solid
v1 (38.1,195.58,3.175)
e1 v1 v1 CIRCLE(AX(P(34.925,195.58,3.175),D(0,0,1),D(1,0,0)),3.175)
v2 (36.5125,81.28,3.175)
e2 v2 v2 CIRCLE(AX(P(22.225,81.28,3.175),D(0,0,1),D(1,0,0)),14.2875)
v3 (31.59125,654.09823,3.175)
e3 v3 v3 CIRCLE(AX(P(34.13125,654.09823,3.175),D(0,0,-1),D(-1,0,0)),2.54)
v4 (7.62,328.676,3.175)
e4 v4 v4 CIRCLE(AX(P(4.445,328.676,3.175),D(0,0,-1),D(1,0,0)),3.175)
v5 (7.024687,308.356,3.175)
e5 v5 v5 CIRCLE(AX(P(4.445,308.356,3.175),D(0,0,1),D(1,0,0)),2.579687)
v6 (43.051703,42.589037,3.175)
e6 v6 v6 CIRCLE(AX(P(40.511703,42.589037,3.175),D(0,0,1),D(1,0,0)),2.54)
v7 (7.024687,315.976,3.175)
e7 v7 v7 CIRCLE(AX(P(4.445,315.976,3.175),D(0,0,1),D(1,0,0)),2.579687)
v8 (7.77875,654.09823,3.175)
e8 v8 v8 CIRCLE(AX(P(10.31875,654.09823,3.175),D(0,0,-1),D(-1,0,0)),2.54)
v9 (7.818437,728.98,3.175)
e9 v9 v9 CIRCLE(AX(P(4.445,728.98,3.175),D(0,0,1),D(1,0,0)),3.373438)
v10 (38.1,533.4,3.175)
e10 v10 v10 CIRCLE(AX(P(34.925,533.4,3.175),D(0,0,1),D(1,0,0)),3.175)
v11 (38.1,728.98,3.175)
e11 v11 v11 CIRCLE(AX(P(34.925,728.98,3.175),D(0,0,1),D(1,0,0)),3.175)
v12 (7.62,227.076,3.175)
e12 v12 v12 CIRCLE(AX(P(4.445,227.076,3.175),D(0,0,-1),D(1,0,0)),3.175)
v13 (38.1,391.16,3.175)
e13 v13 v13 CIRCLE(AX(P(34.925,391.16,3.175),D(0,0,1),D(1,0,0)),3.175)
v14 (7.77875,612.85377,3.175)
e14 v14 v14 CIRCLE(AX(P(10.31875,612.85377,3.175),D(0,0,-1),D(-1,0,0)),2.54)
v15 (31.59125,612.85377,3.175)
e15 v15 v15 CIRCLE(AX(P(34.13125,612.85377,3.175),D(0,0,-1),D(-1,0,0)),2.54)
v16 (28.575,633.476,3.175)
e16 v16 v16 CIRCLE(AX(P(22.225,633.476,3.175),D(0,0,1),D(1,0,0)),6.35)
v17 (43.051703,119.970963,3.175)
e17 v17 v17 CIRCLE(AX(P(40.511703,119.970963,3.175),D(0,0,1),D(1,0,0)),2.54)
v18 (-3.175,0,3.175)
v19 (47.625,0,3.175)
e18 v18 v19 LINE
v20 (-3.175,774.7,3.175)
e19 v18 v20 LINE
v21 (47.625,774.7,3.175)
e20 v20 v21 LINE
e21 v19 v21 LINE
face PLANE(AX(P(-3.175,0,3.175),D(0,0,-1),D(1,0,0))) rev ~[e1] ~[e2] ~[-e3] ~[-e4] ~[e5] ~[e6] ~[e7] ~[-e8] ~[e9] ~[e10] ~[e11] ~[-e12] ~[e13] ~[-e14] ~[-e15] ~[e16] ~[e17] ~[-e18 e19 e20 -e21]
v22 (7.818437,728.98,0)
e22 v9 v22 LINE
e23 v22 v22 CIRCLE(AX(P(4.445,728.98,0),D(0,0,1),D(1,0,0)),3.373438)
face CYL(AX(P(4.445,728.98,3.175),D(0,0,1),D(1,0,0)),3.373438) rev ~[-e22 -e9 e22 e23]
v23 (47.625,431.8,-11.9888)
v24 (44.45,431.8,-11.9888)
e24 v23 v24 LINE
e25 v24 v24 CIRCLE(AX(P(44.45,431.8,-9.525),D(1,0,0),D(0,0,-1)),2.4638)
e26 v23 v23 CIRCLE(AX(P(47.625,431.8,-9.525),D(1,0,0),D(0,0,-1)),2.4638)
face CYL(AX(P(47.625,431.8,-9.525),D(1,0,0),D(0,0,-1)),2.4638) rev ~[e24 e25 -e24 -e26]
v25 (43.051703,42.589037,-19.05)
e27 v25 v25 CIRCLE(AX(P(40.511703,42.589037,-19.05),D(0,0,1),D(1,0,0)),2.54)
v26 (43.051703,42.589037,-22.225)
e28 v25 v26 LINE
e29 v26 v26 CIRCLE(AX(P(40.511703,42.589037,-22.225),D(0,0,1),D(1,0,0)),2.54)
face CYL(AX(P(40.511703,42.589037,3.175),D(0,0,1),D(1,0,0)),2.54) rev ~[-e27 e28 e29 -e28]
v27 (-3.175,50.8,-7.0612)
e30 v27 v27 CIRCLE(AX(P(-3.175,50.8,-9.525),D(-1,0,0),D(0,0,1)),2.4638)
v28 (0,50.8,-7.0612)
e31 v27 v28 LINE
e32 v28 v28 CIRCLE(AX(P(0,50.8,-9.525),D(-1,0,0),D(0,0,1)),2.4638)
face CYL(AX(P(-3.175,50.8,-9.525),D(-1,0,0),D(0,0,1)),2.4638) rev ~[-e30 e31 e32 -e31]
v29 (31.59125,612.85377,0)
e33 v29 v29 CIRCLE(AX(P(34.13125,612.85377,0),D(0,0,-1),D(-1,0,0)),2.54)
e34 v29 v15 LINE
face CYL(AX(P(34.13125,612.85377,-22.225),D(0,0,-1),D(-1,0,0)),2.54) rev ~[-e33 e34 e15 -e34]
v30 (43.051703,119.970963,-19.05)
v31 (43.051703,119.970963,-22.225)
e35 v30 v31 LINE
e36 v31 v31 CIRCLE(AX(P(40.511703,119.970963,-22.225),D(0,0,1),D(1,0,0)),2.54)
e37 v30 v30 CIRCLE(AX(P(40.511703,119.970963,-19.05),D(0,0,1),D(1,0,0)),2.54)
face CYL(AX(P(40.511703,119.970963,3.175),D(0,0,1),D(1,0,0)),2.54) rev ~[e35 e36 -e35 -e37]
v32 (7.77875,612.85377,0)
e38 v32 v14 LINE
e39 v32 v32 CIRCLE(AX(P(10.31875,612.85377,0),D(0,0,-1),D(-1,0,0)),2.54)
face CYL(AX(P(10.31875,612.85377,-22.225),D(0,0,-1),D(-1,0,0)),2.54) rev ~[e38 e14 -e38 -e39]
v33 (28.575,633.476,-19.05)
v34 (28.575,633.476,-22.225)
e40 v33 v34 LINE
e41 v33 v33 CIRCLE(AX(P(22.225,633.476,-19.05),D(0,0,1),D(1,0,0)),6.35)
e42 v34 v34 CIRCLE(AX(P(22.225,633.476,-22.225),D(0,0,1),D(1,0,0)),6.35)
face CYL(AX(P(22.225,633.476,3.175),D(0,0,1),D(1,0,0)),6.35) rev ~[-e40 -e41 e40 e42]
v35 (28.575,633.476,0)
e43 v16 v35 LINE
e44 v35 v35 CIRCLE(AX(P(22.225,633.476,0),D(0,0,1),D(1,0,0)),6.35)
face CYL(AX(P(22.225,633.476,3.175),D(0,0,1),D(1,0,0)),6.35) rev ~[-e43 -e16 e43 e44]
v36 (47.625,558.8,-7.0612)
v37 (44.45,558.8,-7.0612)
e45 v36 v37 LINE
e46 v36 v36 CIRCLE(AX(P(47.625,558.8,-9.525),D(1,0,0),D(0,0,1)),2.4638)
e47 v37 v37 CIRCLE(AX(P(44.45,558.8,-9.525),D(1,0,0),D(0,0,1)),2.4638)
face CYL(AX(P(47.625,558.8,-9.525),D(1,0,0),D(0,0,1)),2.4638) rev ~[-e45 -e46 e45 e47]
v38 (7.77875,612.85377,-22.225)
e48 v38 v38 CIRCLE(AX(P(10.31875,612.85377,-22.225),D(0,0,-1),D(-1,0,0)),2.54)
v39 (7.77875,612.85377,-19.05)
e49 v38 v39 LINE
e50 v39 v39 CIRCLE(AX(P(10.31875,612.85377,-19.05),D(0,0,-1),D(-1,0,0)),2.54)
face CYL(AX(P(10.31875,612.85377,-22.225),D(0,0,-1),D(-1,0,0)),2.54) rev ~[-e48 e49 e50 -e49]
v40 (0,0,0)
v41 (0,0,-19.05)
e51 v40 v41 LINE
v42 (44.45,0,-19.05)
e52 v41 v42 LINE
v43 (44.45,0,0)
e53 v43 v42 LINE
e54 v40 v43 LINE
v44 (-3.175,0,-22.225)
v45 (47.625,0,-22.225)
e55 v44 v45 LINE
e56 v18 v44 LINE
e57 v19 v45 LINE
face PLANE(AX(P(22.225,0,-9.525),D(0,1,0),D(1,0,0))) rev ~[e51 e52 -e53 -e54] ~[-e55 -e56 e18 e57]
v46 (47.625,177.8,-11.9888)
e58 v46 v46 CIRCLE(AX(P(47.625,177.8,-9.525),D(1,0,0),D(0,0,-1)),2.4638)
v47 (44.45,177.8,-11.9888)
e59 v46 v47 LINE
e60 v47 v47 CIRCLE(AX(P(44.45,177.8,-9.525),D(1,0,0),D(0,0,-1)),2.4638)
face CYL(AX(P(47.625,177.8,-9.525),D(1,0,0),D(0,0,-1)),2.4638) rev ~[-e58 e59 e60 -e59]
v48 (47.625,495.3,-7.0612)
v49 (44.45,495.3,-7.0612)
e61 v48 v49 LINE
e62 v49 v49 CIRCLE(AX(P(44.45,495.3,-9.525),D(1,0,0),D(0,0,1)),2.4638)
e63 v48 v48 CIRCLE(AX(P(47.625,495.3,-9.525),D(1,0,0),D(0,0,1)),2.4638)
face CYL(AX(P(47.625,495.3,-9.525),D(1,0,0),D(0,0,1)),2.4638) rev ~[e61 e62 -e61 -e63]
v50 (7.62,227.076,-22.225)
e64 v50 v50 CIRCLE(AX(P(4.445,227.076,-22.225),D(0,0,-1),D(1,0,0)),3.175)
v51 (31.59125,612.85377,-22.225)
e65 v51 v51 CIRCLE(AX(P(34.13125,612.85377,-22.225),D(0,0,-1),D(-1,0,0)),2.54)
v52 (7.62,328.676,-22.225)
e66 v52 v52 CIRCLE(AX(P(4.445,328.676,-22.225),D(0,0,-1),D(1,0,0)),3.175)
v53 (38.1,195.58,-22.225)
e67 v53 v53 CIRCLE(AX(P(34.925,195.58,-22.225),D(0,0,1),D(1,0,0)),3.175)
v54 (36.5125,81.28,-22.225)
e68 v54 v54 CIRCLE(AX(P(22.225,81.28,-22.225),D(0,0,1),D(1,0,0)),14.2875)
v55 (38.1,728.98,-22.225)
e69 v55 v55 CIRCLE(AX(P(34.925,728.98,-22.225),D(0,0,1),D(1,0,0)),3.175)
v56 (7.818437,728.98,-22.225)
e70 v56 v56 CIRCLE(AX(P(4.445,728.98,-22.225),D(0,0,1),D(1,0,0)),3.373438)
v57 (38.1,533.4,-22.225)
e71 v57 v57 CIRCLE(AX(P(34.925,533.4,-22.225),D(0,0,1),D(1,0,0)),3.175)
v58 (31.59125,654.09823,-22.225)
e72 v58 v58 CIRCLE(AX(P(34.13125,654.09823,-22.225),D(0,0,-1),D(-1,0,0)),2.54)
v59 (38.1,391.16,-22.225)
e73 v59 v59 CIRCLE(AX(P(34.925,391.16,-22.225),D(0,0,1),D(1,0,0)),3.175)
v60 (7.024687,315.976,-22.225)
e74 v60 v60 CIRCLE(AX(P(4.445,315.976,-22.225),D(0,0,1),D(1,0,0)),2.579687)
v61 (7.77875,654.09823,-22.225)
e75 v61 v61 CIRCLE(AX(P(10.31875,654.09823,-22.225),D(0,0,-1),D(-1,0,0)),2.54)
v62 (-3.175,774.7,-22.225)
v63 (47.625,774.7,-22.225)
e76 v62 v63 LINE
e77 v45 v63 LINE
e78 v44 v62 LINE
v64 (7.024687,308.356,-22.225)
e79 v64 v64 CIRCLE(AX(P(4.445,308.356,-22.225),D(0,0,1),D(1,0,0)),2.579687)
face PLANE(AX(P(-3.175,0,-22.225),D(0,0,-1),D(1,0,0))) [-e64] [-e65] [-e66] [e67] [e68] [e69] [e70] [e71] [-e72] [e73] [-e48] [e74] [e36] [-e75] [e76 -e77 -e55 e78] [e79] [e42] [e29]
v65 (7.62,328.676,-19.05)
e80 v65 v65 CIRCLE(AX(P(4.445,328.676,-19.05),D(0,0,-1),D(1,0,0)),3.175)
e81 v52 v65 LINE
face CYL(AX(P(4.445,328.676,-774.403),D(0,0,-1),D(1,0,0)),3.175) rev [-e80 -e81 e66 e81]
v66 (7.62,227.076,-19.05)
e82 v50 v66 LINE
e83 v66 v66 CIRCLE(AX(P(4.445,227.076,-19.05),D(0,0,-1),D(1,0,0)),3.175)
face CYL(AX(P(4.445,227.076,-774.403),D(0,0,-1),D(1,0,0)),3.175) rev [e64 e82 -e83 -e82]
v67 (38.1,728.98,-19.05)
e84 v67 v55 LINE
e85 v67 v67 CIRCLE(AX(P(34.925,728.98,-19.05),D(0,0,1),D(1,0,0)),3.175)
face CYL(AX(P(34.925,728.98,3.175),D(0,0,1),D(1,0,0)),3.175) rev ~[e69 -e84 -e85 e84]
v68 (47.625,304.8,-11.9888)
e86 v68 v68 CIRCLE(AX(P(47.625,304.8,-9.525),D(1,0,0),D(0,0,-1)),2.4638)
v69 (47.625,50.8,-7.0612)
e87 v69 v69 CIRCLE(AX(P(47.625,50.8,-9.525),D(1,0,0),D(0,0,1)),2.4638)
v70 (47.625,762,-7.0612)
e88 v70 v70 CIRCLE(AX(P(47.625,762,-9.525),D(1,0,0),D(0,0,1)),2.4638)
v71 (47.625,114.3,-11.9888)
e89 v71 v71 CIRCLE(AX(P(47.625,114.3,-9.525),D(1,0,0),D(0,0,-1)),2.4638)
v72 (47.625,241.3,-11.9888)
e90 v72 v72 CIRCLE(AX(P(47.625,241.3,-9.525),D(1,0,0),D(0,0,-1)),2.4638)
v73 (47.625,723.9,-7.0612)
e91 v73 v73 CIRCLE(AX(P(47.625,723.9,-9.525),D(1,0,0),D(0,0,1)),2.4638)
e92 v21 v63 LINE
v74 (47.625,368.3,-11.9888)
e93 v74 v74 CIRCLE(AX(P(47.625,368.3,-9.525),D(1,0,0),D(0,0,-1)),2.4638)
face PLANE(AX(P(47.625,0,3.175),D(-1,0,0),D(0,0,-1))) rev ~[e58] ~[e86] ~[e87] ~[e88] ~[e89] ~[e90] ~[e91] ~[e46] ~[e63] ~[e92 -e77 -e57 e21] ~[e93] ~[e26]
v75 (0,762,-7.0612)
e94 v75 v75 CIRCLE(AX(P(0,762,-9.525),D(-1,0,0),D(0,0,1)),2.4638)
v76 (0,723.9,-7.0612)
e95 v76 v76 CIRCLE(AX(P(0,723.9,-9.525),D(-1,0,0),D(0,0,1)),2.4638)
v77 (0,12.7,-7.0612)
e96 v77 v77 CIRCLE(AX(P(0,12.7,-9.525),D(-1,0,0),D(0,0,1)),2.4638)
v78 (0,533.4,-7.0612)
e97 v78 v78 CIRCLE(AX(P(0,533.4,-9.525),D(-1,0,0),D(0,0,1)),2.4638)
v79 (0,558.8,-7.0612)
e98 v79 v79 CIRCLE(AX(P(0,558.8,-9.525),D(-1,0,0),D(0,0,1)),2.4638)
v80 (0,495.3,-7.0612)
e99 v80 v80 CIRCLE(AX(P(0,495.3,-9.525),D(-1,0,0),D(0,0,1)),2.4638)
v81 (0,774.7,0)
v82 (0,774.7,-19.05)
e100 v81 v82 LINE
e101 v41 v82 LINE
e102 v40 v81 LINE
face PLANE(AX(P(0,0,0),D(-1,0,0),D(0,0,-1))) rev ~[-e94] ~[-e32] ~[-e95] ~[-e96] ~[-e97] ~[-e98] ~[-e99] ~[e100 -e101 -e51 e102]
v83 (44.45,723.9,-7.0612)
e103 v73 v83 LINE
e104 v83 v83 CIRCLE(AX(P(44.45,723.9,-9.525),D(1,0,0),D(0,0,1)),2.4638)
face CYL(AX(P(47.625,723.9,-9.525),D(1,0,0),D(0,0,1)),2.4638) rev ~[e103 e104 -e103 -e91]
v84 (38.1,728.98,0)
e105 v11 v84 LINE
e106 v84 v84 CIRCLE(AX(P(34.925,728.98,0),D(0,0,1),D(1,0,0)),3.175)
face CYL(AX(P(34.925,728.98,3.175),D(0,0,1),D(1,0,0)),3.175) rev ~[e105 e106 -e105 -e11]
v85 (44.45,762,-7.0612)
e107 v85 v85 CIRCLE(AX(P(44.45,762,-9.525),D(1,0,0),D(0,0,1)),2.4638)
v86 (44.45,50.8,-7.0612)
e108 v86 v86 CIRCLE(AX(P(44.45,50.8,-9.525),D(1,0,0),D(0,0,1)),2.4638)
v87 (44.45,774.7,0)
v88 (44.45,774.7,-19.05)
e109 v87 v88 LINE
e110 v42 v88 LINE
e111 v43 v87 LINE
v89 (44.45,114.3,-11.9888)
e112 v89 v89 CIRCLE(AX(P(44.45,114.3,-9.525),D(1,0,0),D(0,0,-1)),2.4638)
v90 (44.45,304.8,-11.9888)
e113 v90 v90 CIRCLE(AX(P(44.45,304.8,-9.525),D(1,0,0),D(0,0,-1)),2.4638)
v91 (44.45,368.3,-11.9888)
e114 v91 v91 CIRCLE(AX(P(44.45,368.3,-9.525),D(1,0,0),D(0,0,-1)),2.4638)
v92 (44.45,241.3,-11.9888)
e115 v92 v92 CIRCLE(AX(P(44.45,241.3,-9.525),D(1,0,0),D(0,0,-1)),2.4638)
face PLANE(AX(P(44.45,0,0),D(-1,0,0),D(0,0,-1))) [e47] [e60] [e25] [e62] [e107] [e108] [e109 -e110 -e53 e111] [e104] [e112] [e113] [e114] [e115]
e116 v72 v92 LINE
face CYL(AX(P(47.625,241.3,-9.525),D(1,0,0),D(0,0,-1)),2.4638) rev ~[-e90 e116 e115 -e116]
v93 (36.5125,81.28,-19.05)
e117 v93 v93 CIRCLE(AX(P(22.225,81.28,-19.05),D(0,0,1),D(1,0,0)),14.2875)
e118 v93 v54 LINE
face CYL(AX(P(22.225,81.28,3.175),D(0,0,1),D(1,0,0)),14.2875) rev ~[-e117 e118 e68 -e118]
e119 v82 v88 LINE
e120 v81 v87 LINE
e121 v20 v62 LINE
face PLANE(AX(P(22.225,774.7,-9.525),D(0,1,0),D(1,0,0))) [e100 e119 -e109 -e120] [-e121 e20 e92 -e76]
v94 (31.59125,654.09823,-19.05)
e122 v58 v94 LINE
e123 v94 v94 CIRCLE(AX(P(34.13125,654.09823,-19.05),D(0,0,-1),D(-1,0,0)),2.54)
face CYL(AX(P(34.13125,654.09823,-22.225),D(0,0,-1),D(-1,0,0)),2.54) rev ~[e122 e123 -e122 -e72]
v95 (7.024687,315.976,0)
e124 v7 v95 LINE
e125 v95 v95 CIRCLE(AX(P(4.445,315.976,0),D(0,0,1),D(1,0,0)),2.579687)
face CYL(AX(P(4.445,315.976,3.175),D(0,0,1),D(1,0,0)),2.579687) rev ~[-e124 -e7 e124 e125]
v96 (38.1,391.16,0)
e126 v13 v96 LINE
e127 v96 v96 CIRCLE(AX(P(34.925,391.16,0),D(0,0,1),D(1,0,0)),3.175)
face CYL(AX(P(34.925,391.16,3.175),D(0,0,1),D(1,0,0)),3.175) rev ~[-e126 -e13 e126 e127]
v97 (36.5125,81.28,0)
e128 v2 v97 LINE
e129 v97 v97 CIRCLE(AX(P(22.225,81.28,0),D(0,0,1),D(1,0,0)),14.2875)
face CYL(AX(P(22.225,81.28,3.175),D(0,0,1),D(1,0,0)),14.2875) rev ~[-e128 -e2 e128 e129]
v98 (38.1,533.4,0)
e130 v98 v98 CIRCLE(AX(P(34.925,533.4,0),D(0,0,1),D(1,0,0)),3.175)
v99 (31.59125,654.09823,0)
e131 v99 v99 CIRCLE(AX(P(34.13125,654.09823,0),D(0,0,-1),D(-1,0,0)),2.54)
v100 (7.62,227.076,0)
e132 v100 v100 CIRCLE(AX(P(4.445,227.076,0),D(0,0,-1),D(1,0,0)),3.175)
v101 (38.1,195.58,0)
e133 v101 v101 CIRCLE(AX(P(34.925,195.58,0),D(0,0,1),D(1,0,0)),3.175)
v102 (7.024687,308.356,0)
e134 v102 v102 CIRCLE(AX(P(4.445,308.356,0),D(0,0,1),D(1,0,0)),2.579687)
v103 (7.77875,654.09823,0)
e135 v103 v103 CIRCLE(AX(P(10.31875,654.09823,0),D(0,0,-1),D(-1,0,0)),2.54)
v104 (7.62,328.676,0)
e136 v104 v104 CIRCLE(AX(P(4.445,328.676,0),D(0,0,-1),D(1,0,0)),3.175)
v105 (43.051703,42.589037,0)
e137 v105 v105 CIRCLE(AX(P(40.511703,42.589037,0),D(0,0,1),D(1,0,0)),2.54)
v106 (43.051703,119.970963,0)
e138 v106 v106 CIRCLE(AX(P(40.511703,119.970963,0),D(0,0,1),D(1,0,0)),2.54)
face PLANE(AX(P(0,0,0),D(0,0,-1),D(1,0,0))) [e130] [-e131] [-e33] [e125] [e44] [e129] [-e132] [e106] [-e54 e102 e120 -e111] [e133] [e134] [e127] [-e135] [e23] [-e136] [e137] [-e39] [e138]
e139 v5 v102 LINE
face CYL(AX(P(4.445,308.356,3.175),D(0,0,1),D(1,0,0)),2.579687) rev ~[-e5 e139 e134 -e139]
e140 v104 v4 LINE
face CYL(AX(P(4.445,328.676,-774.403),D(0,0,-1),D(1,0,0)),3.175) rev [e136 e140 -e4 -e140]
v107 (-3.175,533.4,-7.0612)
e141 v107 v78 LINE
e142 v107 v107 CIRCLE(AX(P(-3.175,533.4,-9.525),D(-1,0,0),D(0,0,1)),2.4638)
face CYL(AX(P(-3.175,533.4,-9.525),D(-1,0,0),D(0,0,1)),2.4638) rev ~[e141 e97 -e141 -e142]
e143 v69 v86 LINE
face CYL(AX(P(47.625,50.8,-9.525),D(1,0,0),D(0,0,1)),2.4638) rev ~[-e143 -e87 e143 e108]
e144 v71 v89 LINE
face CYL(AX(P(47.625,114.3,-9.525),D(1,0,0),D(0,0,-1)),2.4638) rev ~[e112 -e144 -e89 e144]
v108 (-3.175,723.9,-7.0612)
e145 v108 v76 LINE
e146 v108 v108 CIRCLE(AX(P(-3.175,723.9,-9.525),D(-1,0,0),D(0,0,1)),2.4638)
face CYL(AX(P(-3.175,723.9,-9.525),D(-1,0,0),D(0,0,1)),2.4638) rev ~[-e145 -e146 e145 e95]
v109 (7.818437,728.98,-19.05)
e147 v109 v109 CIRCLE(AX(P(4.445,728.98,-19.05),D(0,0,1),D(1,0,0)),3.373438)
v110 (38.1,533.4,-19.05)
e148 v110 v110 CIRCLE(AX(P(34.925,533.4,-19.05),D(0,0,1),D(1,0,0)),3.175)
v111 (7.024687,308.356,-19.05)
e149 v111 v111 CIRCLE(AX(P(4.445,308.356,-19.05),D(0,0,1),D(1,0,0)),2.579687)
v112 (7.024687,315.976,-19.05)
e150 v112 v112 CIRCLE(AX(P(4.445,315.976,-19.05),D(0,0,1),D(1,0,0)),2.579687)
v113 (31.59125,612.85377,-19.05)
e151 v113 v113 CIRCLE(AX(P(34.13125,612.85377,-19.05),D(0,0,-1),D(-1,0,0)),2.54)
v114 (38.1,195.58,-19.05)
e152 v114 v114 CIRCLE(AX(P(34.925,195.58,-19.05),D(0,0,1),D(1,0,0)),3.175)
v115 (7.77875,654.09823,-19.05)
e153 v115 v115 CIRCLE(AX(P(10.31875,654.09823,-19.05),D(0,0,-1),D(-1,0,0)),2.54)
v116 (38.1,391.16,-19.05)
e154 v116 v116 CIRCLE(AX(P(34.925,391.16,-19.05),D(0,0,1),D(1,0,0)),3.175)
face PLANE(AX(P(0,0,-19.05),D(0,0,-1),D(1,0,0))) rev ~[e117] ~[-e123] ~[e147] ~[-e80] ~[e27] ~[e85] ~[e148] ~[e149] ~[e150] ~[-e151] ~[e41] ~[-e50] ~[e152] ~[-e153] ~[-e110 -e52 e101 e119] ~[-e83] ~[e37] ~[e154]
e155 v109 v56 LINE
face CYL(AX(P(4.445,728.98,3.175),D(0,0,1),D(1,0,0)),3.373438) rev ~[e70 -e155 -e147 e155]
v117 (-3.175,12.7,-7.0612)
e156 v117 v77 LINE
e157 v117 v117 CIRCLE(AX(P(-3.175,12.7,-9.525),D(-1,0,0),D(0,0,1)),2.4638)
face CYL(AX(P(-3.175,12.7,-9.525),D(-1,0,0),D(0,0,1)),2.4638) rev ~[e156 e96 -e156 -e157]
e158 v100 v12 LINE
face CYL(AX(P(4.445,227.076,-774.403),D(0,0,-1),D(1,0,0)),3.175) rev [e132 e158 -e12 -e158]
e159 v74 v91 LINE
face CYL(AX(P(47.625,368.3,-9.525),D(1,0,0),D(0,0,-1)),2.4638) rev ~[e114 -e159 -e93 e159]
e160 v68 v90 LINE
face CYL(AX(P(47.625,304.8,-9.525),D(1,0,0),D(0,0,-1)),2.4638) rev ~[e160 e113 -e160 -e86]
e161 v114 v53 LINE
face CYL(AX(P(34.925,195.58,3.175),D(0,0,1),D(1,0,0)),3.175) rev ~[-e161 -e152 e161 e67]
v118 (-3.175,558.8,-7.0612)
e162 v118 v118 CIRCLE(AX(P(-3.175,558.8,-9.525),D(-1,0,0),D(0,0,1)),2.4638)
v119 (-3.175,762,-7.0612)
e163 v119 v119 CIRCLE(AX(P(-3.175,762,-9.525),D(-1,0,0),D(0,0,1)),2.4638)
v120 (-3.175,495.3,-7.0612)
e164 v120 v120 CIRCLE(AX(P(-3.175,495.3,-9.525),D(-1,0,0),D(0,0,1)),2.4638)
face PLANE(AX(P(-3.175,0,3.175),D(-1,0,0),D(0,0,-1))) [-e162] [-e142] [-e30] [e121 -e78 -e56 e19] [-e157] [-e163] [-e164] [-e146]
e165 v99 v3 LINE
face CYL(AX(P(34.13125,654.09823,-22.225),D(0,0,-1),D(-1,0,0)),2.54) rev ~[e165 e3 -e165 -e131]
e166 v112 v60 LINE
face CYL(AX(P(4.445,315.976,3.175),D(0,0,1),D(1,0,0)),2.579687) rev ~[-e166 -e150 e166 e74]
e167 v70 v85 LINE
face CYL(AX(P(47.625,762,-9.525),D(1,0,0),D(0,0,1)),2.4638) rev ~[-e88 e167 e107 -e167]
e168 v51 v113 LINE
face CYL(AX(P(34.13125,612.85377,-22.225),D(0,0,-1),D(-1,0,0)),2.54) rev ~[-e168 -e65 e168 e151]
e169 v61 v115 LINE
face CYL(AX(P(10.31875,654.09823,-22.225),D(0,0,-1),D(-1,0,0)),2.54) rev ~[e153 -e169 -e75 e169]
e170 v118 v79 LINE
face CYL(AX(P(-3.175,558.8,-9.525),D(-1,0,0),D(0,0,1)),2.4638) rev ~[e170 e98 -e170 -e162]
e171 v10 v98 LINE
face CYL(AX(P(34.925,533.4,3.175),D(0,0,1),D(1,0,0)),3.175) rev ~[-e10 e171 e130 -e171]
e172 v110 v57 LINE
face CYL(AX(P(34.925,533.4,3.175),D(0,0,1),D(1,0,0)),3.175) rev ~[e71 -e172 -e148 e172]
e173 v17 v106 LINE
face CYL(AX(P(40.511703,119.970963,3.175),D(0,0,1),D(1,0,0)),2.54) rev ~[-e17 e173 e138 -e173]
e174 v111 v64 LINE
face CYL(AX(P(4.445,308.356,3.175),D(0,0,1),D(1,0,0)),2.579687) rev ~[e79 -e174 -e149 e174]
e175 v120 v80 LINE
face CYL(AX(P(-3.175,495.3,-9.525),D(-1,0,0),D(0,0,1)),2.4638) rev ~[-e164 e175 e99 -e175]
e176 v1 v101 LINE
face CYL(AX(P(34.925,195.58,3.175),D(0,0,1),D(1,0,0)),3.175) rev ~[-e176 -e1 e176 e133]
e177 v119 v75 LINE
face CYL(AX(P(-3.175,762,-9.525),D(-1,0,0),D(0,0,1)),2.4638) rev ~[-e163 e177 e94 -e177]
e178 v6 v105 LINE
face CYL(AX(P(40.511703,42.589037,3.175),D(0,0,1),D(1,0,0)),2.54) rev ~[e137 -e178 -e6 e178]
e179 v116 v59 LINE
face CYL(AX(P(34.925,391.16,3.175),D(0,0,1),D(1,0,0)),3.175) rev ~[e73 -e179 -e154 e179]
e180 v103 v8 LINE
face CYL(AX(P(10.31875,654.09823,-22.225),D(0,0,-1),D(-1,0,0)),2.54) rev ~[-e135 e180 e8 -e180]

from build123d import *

# Parameters (mm, degrees)
SKETCH1_W               = 50.8
SKETCH1_H               = 25.4
SKETCH1_W_2             = 44.45
SKETCH1_H_2             = 19.05
BOSS_EXTRUDE1_DEPTH     = 774.7
SKETCH3_R               = 14.2875
CUT_EXTRUDE2_DEPTH      = 777.578000348
SKETCH2_R               = 6.35
CUT_EXTRUDE1_DEPTH      = 777.578000348
SKETCH4_R               = 2.54
CUT_EXTRUDE3_DEPTH      = 777.578000348
SKETCH5_R               = 2.54
CUT_EXTRUDE4_DEPTH      = 777.578000348
CUT_EXTRUDE5_DEPTH      = 777.578000348
CUT_EXTRUDE5_DEPTH_BACK = 777.578000348
SKETCH6_R               = 3.175
SKETCH8_R               = 2.5796875
CUT_EXTRUDE8_DEPTH      = 777.578000348
SKETCH10_R              = 3.175
SKETCH10_R_2            = 3.3734375
CUT_EXTRUDE9_DEPTH      = 777.578000348
CUT_EXTRUDE10_REACH     = 778.682
SKETCH11_R              = 2.4638
CUT_EXTRUDE11_REACH     = 778.682
SKETCH12_R              = 2.4638
CUT_EXTRUDE12_REACH     = 778.682
SKETCH13_R              = 2.4638


with BuildPart() as part:
    # Sketch1 → Boss-Extrude1 (new body)
    with BuildSketch(Plane(origin=(0, 0, 0), x_dir=(1, 0, 0), z_dir=(0, 1, 0))):
        with Locations((22.225, 9.525)):
            Rectangle(SKETCH1_W, SKETCH1_H)
        with Locations((22.225, 9.525)):
            Rectangle(SKETCH1_W_2, SKETCH1_H_2, mode=Mode.SUBTRACT)
    extrude(amount=BOSS_EXTRUDE1_DEPTH)

    # Sketch3 → Cut-Extrude2 (cut, through all)
    with BuildSketch(Plane.XY.offset(3.175)):
        with Locations((22.225, 81.28)):
            Circle(SKETCH3_R)
    extrude(amount=-CUT_EXTRUDE2_DEPTH, mode=Mode.SUBTRACT)

    # Sketch2 → Cut-Extrude1 (cut, through all)
    with BuildSketch(Plane.XY.offset(3.175)):
        with Locations((22.225, 633.476)):
            Circle(SKETCH2_R)
    extrude(amount=-CUT_EXTRUDE1_DEPTH, mode=Mode.SUBTRACT)

    # Sketch4 → Cut-Extrude3 (cut, through all)
    with BuildSketch(Plane.XY.offset(3.175)):
        with Locations((40.511702836, 42.589037005)):
            Circle(SKETCH4_R)
        with Locations((40.511702836, 119.970962995)):
            Circle(SKETCH4_R)
    extrude(amount=-CUT_EXTRUDE3_DEPTH, mode=Mode.SUBTRACT)

    # Sketch5 → Cut-Extrude4 (cut, through all)
    with BuildSketch(Plane(origin=(0, 0, -22.225), x_dir=(-1, 0, 0), z_dir=(0, 0, -1))):
        with Locations((-10.31875, 612.853770072)):
            Circle(SKETCH5_R)
        with Locations((-34.13125, 612.853770072)):
            Circle(SKETCH5_R)
        with Locations((-10.31875, 654.098229928)):
            Circle(SKETCH5_R)
        with Locations((-34.13125, 654.098229928)):
            Circle(SKETCH5_R)
    extrude(amount=-CUT_EXTRUDE4_DEPTH, mode=Mode.SUBTRACT)

    # Sketch6 → Cut-Extrude5 (cut, two sides: drawn at the far end of the back side and taken through both)
    with BuildSketch(Plane.XY.offset(3.175).offset(-CUT_EXTRUDE5_DEPTH_BACK)):
        with Locations((4.445, 227.076)):
            Circle(SKETCH6_R)
        with Locations((4.445, 328.676)):
            Circle(SKETCH6_R)
    extrude(amount=CUT_EXTRUDE5_DEPTH + CUT_EXTRUDE5_DEPTH_BACK, mode=Mode.SUBTRACT)

    # Sketch8 → Cut-Extrude8 (cut, through all)
    with BuildSketch(Plane.XY.offset(3.175)):
        with Locations((4.445, 315.976)):
            Circle(SKETCH8_R)
        with Locations((4.445, 308.356)):
            Circle(SKETCH8_R)
    extrude(amount=-CUT_EXTRUDE8_DEPTH, mode=Mode.SUBTRACT)

    # Sketch10 → Cut-Extrude9 (cut, through all)
    with BuildSketch(Plane.XY.offset(3.175)):
        with Locations((34.925, 195.58)):
            Circle(SKETCH10_R)
        with Locations((34.925, 391.16)):
            Circle(SKETCH10_R)
        with Locations((34.925, 533.4)):
            Circle(SKETCH10_R)
        with Locations((34.925, 728.98)):
            Circle(SKETCH10_R)
        with Locations((4.445, 728.98)):
            Circle(SKETCH10_R_2)
    extrude(amount=-CUT_EXTRUDE9_DEPTH, mode=Mode.SUBTRACT)

    # Sketch11 → Cut-Extrude10 (cut, up to next)
    with BuildSketch(Plane.ZY.offset(3.175), mode=Mode.PRIVATE) as cut_extrude10_sk1:
        with Locations((-9.525, 762)):
            Circle(SKETCH11_R)
    cut_extrude10_tool1 = extrude(cut_extrude10_sk1.sketch, amount=-CUT_EXTRUDE10_REACH, mode=Mode.PRIVATE) & part.part
    # Sketch11 → Cut-Extrude10 (cut, up to next)
    with BuildSketch(Plane.ZY.offset(3.175), mode=Mode.PRIVATE) as cut_extrude10_sk2:
        with Locations((-9.525, 723.9)):
            Circle(SKETCH11_R)
    cut_extrude10_tool2 = extrude(cut_extrude10_sk2.sketch, amount=-CUT_EXTRUDE10_REACH, mode=Mode.PRIVATE) & part.part
    # Sketch11 → Cut-Extrude10 (cut, up to next)
    with BuildSketch(Plane.ZY.offset(3.175), mode=Mode.PRIVATE) as cut_extrude10_sk3:
        with Locations((-9.525, 558.8)):
            Circle(SKETCH11_R)
    cut_extrude10_tool3 = extrude(cut_extrude10_sk3.sketch, amount=-CUT_EXTRUDE10_REACH, mode=Mode.PRIVATE) & part.part
    # Sketch11 → Cut-Extrude10 (cut, up to next)
    with BuildSketch(Plane.ZY.offset(3.175), mode=Mode.PRIVATE) as cut_extrude10_sk4:
        with Locations((-9.525, 533.4)):
            Circle(SKETCH11_R)
    cut_extrude10_tool4 = extrude(cut_extrude10_sk4.sketch, amount=-CUT_EXTRUDE10_REACH, mode=Mode.PRIVATE) & part.part
    # Sketch11 → Cut-Extrude10 (cut, up to next)
    with BuildSketch(Plane.ZY.offset(3.175), mode=Mode.PRIVATE) as cut_extrude10_sk5:
        with Locations((-9.525, 495.3)):
            Circle(SKETCH11_R)
    cut_extrude10_tool5 = extrude(cut_extrude10_sk5.sketch, amount=-CUT_EXTRUDE10_REACH, mode=Mode.PRIVATE) & part.part
    # Sketch11 → Cut-Extrude10 (cut, up to next)
    with BuildSketch(Plane.ZY.offset(3.175), mode=Mode.PRIVATE) as cut_extrude10_sk6:
        with Locations((-9.525, 50.8)):
            Circle(SKETCH11_R)
    cut_extrude10_tool6 = extrude(cut_extrude10_sk6.sketch, amount=-CUT_EXTRUDE10_REACH, mode=Mode.PRIVATE) & part.part
    # Sketch11 → Cut-Extrude10 (cut, up to next)
    with BuildSketch(Plane.ZY.offset(3.175), mode=Mode.PRIVATE) as cut_extrude10_sk7:
        with Locations((-9.525, 12.7)):
            Circle(SKETCH11_R)
    cut_extrude10_tool7 = extrude(cut_extrude10_sk7.sketch, amount=-CUT_EXTRUDE10_REACH, mode=Mode.PRIVATE) & part.part
    add(cut_extrude10_tool1.solids().sort_by_distance((-3.175, 762, -9.525))[0], mode=Mode.SUBTRACT)
    add(cut_extrude10_tool2.solids().sort_by_distance((-3.175, 723.9, -9.525))[0], mode=Mode.SUBTRACT)
    add(cut_extrude10_tool3.solids().sort_by_distance((-3.175, 558.8, -9.525))[0], mode=Mode.SUBTRACT)
    add(cut_extrude10_tool4.solids().sort_by_distance((-3.175, 533.4, -9.525))[0], mode=Mode.SUBTRACT)
    add(cut_extrude10_tool5.solids().sort_by_distance((-3.175, 495.3, -9.525))[0], mode=Mode.SUBTRACT)
    add(cut_extrude10_tool6.solids().sort_by_distance((-3.175, 50.8, -9.525))[0], mode=Mode.SUBTRACT)
    add(cut_extrude10_tool7.solids().sort_by_distance((-3.175, 12.7, -9.525))[0], mode=Mode.SUBTRACT)

    # Sketch12 → Cut-Extrude11 (cut, up to next)
    with BuildSketch(Plane(origin=(47.625, 0, 0), x_dir=(0, 0, -1), z_dir=(1, 0, 0)), mode=Mode.PRIVATE) as cut_extrude11_sk1:
        with Locations(Location((9.525, 50.8, 0), (0, 0, 180))):
            Circle(SKETCH12_R)
    cut_extrude11_tool1 = extrude(cut_extrude11_sk1.sketch, amount=-CUT_EXTRUDE11_REACH, mode=Mode.PRIVATE) & part.part
    # Sketch12 → Cut-Extrude11 (cut, up to next)
    with BuildSketch(Plane(origin=(47.625, 0, 0), x_dir=(0, 0, -1), z_dir=(1, 0, 0)), mode=Mode.PRIVATE) as cut_extrude11_sk2:
        with Locations((9.525, 114.3)):
            Circle(SKETCH12_R)
    cut_extrude11_tool2 = extrude(cut_extrude11_sk2.sketch, amount=-CUT_EXTRUDE11_REACH, mode=Mode.PRIVATE) & part.part
    # Sketch12 → Cut-Extrude11 (cut, up to next)
    with BuildSketch(Plane(origin=(47.625, 0, 0), x_dir=(0, 0, -1), z_dir=(1, 0, 0)), mode=Mode.PRIVATE) as cut_extrude11_sk3:
        with Locations((9.525, 177.8)):
            Circle(SKETCH12_R)
    cut_extrude11_tool3 = extrude(cut_extrude11_sk3.sketch, amount=-CUT_EXTRUDE11_REACH, mode=Mode.PRIVATE) & part.part
    # Sketch12 → Cut-Extrude11 (cut, up to next)
    with BuildSketch(Plane(origin=(47.625, 0, 0), x_dir=(0, 0, -1), z_dir=(1, 0, 0)), mode=Mode.PRIVATE) as cut_extrude11_sk4:
        with Locations((9.525, 241.3)):
            Circle(SKETCH12_R)
    cut_extrude11_tool4 = extrude(cut_extrude11_sk4.sketch, amount=-CUT_EXTRUDE11_REACH, mode=Mode.PRIVATE) & part.part
    # Sketch12 → Cut-Extrude11 (cut, up to next)
    with BuildSketch(Plane(origin=(47.625, 0, 0), x_dir=(0, 0, -1), z_dir=(1, 0, 0)), mode=Mode.PRIVATE) as cut_extrude11_sk5:
        with Locations((9.525, 304.8)):
            Circle(SKETCH12_R)
    cut_extrude11_tool5 = extrude(cut_extrude11_sk5.sketch, amount=-CUT_EXTRUDE11_REACH, mode=Mode.PRIVATE) & part.part
    # Sketch12 → Cut-Extrude11 (cut, up to next)
    with BuildSketch(Plane(origin=(47.625, 0, 0), x_dir=(0, 0, -1), z_dir=(1, 0, 0)), mode=Mode.PRIVATE) as cut_extrude11_sk6:
        with Locations((9.525, 368.3)):
            Circle(SKETCH12_R)
    cut_extrude11_tool6 = extrude(cut_extrude11_sk6.sketch, amount=-CUT_EXTRUDE11_REACH, mode=Mode.PRIVATE) & part.part
    # Sketch12 → Cut-Extrude11 (cut, up to next)
    with BuildSketch(Plane(origin=(47.625, 0, 0), x_dir=(0, 0, -1), z_dir=(1, 0, 0)), mode=Mode.PRIVATE) as cut_extrude11_sk7:
        with Locations((9.525, 431.8)):
            Circle(SKETCH12_R)
    cut_extrude11_tool7 = extrude(cut_extrude11_sk7.sketch, amount=-CUT_EXTRUDE11_REACH, mode=Mode.PRIVATE) & part.part
    # Sketch12 → Cut-Extrude11 (cut, up to next)
    with BuildSketch(Plane(origin=(47.625, 0, 0), x_dir=(0, 0, -1), z_dir=(1, 0, 0)), mode=Mode.PRIVATE) as cut_extrude11_sk8:
        with Locations(Location((9.525, 495.3, 0), (0, 0, 180))):
            Circle(SKETCH12_R)
    cut_extrude11_tool8 = extrude(cut_extrude11_sk8.sketch, amount=-CUT_EXTRUDE11_REACH, mode=Mode.PRIVATE) & part.part
    # Sketch12 → Cut-Extrude11 (cut, up to next)
    with BuildSketch(Plane(origin=(47.625, 0, 0), x_dir=(0, 0, -1), z_dir=(1, 0, 0)), mode=Mode.PRIVATE) as cut_extrude11_sk9:
        with Locations(Location((9.525, 558.8, 0), (0, 0, 180))):
            Circle(SKETCH12_R)
    cut_extrude11_tool9 = extrude(cut_extrude11_sk9.sketch, amount=-CUT_EXTRUDE11_REACH, mode=Mode.PRIVATE) & part.part
    add(cut_extrude11_tool1.solids().sort_by_distance((47.625, 50.8, -9.525))[0], mode=Mode.SUBTRACT)
    add(cut_extrude11_tool2.solids().sort_by_distance((47.625, 114.3, -9.525))[0], mode=Mode.SUBTRACT)
    add(cut_extrude11_tool3.solids().sort_by_distance((47.625, 177.8, -9.525))[0], mode=Mode.SUBTRACT)
    add(cut_extrude11_tool4.solids().sort_by_distance((47.625, 241.3, -9.525))[0], mode=Mode.SUBTRACT)
    add(cut_extrude11_tool5.solids().sort_by_distance((47.625, 304.8, -9.525))[0], mode=Mode.SUBTRACT)
    add(cut_extrude11_tool6.solids().sort_by_distance((47.625, 368.3, -9.525))[0], mode=Mode.SUBTRACT)
    add(cut_extrude11_tool7.solids().sort_by_distance((47.625, 431.8, -9.525))[0], mode=Mode.SUBTRACT)
    add(cut_extrude11_tool8.solids().sort_by_distance((47.625, 495.3, -9.525))[0], mode=Mode.SUBTRACT)
    add(cut_extrude11_tool9.solids().sort_by_distance((47.625, 558.8, -9.525))[0], mode=Mode.SUBTRACT)

    # Sketch13 → Cut-Extrude12 (cut, up to next)
    with BuildSketch(Plane(origin=(47.625, 0, 0), x_dir=(0, 0, -1), z_dir=(1, 0, 0)), mode=Mode.PRIVATE) as cut_extrude12_sk1:
        with Locations(Location((9.525, 762, 0), (0, 0, 180))):
            Circle(SKETCH13_R)
    cut_extrude12_tool1 = extrude(cut_extrude12_sk1.sketch, amount=-CUT_EXTRUDE12_REACH, mode=Mode.PRIVATE) & part.part
    # Sketch13 → Cut-Extrude12 (cut, up to next)
    with BuildSketch(Plane(origin=(47.625, 0, 0), x_dir=(0, 0, -1), z_dir=(1, 0, 0)), mode=Mode.PRIVATE) as cut_extrude12_sk2:
        with Locations(Location((9.525, 723.9, 0), (0, 0, 180))):
            Circle(SKETCH13_R)
    cut_extrude12_tool2 = extrude(cut_extrude12_sk2.sketch, amount=-CUT_EXTRUDE12_REACH, mode=Mode.PRIVATE) & part.part
    add(cut_extrude12_tool1.solids().sort_by_distance((47.625, 762, -9.525))[0], mode=Mode.SUBTRACT)
    add(cut_extrude12_tool2.solids().sort_by_distance((47.625, 723.9, -9.525))[0], mode=Mode.SUBTRACT)


solid = part.part
